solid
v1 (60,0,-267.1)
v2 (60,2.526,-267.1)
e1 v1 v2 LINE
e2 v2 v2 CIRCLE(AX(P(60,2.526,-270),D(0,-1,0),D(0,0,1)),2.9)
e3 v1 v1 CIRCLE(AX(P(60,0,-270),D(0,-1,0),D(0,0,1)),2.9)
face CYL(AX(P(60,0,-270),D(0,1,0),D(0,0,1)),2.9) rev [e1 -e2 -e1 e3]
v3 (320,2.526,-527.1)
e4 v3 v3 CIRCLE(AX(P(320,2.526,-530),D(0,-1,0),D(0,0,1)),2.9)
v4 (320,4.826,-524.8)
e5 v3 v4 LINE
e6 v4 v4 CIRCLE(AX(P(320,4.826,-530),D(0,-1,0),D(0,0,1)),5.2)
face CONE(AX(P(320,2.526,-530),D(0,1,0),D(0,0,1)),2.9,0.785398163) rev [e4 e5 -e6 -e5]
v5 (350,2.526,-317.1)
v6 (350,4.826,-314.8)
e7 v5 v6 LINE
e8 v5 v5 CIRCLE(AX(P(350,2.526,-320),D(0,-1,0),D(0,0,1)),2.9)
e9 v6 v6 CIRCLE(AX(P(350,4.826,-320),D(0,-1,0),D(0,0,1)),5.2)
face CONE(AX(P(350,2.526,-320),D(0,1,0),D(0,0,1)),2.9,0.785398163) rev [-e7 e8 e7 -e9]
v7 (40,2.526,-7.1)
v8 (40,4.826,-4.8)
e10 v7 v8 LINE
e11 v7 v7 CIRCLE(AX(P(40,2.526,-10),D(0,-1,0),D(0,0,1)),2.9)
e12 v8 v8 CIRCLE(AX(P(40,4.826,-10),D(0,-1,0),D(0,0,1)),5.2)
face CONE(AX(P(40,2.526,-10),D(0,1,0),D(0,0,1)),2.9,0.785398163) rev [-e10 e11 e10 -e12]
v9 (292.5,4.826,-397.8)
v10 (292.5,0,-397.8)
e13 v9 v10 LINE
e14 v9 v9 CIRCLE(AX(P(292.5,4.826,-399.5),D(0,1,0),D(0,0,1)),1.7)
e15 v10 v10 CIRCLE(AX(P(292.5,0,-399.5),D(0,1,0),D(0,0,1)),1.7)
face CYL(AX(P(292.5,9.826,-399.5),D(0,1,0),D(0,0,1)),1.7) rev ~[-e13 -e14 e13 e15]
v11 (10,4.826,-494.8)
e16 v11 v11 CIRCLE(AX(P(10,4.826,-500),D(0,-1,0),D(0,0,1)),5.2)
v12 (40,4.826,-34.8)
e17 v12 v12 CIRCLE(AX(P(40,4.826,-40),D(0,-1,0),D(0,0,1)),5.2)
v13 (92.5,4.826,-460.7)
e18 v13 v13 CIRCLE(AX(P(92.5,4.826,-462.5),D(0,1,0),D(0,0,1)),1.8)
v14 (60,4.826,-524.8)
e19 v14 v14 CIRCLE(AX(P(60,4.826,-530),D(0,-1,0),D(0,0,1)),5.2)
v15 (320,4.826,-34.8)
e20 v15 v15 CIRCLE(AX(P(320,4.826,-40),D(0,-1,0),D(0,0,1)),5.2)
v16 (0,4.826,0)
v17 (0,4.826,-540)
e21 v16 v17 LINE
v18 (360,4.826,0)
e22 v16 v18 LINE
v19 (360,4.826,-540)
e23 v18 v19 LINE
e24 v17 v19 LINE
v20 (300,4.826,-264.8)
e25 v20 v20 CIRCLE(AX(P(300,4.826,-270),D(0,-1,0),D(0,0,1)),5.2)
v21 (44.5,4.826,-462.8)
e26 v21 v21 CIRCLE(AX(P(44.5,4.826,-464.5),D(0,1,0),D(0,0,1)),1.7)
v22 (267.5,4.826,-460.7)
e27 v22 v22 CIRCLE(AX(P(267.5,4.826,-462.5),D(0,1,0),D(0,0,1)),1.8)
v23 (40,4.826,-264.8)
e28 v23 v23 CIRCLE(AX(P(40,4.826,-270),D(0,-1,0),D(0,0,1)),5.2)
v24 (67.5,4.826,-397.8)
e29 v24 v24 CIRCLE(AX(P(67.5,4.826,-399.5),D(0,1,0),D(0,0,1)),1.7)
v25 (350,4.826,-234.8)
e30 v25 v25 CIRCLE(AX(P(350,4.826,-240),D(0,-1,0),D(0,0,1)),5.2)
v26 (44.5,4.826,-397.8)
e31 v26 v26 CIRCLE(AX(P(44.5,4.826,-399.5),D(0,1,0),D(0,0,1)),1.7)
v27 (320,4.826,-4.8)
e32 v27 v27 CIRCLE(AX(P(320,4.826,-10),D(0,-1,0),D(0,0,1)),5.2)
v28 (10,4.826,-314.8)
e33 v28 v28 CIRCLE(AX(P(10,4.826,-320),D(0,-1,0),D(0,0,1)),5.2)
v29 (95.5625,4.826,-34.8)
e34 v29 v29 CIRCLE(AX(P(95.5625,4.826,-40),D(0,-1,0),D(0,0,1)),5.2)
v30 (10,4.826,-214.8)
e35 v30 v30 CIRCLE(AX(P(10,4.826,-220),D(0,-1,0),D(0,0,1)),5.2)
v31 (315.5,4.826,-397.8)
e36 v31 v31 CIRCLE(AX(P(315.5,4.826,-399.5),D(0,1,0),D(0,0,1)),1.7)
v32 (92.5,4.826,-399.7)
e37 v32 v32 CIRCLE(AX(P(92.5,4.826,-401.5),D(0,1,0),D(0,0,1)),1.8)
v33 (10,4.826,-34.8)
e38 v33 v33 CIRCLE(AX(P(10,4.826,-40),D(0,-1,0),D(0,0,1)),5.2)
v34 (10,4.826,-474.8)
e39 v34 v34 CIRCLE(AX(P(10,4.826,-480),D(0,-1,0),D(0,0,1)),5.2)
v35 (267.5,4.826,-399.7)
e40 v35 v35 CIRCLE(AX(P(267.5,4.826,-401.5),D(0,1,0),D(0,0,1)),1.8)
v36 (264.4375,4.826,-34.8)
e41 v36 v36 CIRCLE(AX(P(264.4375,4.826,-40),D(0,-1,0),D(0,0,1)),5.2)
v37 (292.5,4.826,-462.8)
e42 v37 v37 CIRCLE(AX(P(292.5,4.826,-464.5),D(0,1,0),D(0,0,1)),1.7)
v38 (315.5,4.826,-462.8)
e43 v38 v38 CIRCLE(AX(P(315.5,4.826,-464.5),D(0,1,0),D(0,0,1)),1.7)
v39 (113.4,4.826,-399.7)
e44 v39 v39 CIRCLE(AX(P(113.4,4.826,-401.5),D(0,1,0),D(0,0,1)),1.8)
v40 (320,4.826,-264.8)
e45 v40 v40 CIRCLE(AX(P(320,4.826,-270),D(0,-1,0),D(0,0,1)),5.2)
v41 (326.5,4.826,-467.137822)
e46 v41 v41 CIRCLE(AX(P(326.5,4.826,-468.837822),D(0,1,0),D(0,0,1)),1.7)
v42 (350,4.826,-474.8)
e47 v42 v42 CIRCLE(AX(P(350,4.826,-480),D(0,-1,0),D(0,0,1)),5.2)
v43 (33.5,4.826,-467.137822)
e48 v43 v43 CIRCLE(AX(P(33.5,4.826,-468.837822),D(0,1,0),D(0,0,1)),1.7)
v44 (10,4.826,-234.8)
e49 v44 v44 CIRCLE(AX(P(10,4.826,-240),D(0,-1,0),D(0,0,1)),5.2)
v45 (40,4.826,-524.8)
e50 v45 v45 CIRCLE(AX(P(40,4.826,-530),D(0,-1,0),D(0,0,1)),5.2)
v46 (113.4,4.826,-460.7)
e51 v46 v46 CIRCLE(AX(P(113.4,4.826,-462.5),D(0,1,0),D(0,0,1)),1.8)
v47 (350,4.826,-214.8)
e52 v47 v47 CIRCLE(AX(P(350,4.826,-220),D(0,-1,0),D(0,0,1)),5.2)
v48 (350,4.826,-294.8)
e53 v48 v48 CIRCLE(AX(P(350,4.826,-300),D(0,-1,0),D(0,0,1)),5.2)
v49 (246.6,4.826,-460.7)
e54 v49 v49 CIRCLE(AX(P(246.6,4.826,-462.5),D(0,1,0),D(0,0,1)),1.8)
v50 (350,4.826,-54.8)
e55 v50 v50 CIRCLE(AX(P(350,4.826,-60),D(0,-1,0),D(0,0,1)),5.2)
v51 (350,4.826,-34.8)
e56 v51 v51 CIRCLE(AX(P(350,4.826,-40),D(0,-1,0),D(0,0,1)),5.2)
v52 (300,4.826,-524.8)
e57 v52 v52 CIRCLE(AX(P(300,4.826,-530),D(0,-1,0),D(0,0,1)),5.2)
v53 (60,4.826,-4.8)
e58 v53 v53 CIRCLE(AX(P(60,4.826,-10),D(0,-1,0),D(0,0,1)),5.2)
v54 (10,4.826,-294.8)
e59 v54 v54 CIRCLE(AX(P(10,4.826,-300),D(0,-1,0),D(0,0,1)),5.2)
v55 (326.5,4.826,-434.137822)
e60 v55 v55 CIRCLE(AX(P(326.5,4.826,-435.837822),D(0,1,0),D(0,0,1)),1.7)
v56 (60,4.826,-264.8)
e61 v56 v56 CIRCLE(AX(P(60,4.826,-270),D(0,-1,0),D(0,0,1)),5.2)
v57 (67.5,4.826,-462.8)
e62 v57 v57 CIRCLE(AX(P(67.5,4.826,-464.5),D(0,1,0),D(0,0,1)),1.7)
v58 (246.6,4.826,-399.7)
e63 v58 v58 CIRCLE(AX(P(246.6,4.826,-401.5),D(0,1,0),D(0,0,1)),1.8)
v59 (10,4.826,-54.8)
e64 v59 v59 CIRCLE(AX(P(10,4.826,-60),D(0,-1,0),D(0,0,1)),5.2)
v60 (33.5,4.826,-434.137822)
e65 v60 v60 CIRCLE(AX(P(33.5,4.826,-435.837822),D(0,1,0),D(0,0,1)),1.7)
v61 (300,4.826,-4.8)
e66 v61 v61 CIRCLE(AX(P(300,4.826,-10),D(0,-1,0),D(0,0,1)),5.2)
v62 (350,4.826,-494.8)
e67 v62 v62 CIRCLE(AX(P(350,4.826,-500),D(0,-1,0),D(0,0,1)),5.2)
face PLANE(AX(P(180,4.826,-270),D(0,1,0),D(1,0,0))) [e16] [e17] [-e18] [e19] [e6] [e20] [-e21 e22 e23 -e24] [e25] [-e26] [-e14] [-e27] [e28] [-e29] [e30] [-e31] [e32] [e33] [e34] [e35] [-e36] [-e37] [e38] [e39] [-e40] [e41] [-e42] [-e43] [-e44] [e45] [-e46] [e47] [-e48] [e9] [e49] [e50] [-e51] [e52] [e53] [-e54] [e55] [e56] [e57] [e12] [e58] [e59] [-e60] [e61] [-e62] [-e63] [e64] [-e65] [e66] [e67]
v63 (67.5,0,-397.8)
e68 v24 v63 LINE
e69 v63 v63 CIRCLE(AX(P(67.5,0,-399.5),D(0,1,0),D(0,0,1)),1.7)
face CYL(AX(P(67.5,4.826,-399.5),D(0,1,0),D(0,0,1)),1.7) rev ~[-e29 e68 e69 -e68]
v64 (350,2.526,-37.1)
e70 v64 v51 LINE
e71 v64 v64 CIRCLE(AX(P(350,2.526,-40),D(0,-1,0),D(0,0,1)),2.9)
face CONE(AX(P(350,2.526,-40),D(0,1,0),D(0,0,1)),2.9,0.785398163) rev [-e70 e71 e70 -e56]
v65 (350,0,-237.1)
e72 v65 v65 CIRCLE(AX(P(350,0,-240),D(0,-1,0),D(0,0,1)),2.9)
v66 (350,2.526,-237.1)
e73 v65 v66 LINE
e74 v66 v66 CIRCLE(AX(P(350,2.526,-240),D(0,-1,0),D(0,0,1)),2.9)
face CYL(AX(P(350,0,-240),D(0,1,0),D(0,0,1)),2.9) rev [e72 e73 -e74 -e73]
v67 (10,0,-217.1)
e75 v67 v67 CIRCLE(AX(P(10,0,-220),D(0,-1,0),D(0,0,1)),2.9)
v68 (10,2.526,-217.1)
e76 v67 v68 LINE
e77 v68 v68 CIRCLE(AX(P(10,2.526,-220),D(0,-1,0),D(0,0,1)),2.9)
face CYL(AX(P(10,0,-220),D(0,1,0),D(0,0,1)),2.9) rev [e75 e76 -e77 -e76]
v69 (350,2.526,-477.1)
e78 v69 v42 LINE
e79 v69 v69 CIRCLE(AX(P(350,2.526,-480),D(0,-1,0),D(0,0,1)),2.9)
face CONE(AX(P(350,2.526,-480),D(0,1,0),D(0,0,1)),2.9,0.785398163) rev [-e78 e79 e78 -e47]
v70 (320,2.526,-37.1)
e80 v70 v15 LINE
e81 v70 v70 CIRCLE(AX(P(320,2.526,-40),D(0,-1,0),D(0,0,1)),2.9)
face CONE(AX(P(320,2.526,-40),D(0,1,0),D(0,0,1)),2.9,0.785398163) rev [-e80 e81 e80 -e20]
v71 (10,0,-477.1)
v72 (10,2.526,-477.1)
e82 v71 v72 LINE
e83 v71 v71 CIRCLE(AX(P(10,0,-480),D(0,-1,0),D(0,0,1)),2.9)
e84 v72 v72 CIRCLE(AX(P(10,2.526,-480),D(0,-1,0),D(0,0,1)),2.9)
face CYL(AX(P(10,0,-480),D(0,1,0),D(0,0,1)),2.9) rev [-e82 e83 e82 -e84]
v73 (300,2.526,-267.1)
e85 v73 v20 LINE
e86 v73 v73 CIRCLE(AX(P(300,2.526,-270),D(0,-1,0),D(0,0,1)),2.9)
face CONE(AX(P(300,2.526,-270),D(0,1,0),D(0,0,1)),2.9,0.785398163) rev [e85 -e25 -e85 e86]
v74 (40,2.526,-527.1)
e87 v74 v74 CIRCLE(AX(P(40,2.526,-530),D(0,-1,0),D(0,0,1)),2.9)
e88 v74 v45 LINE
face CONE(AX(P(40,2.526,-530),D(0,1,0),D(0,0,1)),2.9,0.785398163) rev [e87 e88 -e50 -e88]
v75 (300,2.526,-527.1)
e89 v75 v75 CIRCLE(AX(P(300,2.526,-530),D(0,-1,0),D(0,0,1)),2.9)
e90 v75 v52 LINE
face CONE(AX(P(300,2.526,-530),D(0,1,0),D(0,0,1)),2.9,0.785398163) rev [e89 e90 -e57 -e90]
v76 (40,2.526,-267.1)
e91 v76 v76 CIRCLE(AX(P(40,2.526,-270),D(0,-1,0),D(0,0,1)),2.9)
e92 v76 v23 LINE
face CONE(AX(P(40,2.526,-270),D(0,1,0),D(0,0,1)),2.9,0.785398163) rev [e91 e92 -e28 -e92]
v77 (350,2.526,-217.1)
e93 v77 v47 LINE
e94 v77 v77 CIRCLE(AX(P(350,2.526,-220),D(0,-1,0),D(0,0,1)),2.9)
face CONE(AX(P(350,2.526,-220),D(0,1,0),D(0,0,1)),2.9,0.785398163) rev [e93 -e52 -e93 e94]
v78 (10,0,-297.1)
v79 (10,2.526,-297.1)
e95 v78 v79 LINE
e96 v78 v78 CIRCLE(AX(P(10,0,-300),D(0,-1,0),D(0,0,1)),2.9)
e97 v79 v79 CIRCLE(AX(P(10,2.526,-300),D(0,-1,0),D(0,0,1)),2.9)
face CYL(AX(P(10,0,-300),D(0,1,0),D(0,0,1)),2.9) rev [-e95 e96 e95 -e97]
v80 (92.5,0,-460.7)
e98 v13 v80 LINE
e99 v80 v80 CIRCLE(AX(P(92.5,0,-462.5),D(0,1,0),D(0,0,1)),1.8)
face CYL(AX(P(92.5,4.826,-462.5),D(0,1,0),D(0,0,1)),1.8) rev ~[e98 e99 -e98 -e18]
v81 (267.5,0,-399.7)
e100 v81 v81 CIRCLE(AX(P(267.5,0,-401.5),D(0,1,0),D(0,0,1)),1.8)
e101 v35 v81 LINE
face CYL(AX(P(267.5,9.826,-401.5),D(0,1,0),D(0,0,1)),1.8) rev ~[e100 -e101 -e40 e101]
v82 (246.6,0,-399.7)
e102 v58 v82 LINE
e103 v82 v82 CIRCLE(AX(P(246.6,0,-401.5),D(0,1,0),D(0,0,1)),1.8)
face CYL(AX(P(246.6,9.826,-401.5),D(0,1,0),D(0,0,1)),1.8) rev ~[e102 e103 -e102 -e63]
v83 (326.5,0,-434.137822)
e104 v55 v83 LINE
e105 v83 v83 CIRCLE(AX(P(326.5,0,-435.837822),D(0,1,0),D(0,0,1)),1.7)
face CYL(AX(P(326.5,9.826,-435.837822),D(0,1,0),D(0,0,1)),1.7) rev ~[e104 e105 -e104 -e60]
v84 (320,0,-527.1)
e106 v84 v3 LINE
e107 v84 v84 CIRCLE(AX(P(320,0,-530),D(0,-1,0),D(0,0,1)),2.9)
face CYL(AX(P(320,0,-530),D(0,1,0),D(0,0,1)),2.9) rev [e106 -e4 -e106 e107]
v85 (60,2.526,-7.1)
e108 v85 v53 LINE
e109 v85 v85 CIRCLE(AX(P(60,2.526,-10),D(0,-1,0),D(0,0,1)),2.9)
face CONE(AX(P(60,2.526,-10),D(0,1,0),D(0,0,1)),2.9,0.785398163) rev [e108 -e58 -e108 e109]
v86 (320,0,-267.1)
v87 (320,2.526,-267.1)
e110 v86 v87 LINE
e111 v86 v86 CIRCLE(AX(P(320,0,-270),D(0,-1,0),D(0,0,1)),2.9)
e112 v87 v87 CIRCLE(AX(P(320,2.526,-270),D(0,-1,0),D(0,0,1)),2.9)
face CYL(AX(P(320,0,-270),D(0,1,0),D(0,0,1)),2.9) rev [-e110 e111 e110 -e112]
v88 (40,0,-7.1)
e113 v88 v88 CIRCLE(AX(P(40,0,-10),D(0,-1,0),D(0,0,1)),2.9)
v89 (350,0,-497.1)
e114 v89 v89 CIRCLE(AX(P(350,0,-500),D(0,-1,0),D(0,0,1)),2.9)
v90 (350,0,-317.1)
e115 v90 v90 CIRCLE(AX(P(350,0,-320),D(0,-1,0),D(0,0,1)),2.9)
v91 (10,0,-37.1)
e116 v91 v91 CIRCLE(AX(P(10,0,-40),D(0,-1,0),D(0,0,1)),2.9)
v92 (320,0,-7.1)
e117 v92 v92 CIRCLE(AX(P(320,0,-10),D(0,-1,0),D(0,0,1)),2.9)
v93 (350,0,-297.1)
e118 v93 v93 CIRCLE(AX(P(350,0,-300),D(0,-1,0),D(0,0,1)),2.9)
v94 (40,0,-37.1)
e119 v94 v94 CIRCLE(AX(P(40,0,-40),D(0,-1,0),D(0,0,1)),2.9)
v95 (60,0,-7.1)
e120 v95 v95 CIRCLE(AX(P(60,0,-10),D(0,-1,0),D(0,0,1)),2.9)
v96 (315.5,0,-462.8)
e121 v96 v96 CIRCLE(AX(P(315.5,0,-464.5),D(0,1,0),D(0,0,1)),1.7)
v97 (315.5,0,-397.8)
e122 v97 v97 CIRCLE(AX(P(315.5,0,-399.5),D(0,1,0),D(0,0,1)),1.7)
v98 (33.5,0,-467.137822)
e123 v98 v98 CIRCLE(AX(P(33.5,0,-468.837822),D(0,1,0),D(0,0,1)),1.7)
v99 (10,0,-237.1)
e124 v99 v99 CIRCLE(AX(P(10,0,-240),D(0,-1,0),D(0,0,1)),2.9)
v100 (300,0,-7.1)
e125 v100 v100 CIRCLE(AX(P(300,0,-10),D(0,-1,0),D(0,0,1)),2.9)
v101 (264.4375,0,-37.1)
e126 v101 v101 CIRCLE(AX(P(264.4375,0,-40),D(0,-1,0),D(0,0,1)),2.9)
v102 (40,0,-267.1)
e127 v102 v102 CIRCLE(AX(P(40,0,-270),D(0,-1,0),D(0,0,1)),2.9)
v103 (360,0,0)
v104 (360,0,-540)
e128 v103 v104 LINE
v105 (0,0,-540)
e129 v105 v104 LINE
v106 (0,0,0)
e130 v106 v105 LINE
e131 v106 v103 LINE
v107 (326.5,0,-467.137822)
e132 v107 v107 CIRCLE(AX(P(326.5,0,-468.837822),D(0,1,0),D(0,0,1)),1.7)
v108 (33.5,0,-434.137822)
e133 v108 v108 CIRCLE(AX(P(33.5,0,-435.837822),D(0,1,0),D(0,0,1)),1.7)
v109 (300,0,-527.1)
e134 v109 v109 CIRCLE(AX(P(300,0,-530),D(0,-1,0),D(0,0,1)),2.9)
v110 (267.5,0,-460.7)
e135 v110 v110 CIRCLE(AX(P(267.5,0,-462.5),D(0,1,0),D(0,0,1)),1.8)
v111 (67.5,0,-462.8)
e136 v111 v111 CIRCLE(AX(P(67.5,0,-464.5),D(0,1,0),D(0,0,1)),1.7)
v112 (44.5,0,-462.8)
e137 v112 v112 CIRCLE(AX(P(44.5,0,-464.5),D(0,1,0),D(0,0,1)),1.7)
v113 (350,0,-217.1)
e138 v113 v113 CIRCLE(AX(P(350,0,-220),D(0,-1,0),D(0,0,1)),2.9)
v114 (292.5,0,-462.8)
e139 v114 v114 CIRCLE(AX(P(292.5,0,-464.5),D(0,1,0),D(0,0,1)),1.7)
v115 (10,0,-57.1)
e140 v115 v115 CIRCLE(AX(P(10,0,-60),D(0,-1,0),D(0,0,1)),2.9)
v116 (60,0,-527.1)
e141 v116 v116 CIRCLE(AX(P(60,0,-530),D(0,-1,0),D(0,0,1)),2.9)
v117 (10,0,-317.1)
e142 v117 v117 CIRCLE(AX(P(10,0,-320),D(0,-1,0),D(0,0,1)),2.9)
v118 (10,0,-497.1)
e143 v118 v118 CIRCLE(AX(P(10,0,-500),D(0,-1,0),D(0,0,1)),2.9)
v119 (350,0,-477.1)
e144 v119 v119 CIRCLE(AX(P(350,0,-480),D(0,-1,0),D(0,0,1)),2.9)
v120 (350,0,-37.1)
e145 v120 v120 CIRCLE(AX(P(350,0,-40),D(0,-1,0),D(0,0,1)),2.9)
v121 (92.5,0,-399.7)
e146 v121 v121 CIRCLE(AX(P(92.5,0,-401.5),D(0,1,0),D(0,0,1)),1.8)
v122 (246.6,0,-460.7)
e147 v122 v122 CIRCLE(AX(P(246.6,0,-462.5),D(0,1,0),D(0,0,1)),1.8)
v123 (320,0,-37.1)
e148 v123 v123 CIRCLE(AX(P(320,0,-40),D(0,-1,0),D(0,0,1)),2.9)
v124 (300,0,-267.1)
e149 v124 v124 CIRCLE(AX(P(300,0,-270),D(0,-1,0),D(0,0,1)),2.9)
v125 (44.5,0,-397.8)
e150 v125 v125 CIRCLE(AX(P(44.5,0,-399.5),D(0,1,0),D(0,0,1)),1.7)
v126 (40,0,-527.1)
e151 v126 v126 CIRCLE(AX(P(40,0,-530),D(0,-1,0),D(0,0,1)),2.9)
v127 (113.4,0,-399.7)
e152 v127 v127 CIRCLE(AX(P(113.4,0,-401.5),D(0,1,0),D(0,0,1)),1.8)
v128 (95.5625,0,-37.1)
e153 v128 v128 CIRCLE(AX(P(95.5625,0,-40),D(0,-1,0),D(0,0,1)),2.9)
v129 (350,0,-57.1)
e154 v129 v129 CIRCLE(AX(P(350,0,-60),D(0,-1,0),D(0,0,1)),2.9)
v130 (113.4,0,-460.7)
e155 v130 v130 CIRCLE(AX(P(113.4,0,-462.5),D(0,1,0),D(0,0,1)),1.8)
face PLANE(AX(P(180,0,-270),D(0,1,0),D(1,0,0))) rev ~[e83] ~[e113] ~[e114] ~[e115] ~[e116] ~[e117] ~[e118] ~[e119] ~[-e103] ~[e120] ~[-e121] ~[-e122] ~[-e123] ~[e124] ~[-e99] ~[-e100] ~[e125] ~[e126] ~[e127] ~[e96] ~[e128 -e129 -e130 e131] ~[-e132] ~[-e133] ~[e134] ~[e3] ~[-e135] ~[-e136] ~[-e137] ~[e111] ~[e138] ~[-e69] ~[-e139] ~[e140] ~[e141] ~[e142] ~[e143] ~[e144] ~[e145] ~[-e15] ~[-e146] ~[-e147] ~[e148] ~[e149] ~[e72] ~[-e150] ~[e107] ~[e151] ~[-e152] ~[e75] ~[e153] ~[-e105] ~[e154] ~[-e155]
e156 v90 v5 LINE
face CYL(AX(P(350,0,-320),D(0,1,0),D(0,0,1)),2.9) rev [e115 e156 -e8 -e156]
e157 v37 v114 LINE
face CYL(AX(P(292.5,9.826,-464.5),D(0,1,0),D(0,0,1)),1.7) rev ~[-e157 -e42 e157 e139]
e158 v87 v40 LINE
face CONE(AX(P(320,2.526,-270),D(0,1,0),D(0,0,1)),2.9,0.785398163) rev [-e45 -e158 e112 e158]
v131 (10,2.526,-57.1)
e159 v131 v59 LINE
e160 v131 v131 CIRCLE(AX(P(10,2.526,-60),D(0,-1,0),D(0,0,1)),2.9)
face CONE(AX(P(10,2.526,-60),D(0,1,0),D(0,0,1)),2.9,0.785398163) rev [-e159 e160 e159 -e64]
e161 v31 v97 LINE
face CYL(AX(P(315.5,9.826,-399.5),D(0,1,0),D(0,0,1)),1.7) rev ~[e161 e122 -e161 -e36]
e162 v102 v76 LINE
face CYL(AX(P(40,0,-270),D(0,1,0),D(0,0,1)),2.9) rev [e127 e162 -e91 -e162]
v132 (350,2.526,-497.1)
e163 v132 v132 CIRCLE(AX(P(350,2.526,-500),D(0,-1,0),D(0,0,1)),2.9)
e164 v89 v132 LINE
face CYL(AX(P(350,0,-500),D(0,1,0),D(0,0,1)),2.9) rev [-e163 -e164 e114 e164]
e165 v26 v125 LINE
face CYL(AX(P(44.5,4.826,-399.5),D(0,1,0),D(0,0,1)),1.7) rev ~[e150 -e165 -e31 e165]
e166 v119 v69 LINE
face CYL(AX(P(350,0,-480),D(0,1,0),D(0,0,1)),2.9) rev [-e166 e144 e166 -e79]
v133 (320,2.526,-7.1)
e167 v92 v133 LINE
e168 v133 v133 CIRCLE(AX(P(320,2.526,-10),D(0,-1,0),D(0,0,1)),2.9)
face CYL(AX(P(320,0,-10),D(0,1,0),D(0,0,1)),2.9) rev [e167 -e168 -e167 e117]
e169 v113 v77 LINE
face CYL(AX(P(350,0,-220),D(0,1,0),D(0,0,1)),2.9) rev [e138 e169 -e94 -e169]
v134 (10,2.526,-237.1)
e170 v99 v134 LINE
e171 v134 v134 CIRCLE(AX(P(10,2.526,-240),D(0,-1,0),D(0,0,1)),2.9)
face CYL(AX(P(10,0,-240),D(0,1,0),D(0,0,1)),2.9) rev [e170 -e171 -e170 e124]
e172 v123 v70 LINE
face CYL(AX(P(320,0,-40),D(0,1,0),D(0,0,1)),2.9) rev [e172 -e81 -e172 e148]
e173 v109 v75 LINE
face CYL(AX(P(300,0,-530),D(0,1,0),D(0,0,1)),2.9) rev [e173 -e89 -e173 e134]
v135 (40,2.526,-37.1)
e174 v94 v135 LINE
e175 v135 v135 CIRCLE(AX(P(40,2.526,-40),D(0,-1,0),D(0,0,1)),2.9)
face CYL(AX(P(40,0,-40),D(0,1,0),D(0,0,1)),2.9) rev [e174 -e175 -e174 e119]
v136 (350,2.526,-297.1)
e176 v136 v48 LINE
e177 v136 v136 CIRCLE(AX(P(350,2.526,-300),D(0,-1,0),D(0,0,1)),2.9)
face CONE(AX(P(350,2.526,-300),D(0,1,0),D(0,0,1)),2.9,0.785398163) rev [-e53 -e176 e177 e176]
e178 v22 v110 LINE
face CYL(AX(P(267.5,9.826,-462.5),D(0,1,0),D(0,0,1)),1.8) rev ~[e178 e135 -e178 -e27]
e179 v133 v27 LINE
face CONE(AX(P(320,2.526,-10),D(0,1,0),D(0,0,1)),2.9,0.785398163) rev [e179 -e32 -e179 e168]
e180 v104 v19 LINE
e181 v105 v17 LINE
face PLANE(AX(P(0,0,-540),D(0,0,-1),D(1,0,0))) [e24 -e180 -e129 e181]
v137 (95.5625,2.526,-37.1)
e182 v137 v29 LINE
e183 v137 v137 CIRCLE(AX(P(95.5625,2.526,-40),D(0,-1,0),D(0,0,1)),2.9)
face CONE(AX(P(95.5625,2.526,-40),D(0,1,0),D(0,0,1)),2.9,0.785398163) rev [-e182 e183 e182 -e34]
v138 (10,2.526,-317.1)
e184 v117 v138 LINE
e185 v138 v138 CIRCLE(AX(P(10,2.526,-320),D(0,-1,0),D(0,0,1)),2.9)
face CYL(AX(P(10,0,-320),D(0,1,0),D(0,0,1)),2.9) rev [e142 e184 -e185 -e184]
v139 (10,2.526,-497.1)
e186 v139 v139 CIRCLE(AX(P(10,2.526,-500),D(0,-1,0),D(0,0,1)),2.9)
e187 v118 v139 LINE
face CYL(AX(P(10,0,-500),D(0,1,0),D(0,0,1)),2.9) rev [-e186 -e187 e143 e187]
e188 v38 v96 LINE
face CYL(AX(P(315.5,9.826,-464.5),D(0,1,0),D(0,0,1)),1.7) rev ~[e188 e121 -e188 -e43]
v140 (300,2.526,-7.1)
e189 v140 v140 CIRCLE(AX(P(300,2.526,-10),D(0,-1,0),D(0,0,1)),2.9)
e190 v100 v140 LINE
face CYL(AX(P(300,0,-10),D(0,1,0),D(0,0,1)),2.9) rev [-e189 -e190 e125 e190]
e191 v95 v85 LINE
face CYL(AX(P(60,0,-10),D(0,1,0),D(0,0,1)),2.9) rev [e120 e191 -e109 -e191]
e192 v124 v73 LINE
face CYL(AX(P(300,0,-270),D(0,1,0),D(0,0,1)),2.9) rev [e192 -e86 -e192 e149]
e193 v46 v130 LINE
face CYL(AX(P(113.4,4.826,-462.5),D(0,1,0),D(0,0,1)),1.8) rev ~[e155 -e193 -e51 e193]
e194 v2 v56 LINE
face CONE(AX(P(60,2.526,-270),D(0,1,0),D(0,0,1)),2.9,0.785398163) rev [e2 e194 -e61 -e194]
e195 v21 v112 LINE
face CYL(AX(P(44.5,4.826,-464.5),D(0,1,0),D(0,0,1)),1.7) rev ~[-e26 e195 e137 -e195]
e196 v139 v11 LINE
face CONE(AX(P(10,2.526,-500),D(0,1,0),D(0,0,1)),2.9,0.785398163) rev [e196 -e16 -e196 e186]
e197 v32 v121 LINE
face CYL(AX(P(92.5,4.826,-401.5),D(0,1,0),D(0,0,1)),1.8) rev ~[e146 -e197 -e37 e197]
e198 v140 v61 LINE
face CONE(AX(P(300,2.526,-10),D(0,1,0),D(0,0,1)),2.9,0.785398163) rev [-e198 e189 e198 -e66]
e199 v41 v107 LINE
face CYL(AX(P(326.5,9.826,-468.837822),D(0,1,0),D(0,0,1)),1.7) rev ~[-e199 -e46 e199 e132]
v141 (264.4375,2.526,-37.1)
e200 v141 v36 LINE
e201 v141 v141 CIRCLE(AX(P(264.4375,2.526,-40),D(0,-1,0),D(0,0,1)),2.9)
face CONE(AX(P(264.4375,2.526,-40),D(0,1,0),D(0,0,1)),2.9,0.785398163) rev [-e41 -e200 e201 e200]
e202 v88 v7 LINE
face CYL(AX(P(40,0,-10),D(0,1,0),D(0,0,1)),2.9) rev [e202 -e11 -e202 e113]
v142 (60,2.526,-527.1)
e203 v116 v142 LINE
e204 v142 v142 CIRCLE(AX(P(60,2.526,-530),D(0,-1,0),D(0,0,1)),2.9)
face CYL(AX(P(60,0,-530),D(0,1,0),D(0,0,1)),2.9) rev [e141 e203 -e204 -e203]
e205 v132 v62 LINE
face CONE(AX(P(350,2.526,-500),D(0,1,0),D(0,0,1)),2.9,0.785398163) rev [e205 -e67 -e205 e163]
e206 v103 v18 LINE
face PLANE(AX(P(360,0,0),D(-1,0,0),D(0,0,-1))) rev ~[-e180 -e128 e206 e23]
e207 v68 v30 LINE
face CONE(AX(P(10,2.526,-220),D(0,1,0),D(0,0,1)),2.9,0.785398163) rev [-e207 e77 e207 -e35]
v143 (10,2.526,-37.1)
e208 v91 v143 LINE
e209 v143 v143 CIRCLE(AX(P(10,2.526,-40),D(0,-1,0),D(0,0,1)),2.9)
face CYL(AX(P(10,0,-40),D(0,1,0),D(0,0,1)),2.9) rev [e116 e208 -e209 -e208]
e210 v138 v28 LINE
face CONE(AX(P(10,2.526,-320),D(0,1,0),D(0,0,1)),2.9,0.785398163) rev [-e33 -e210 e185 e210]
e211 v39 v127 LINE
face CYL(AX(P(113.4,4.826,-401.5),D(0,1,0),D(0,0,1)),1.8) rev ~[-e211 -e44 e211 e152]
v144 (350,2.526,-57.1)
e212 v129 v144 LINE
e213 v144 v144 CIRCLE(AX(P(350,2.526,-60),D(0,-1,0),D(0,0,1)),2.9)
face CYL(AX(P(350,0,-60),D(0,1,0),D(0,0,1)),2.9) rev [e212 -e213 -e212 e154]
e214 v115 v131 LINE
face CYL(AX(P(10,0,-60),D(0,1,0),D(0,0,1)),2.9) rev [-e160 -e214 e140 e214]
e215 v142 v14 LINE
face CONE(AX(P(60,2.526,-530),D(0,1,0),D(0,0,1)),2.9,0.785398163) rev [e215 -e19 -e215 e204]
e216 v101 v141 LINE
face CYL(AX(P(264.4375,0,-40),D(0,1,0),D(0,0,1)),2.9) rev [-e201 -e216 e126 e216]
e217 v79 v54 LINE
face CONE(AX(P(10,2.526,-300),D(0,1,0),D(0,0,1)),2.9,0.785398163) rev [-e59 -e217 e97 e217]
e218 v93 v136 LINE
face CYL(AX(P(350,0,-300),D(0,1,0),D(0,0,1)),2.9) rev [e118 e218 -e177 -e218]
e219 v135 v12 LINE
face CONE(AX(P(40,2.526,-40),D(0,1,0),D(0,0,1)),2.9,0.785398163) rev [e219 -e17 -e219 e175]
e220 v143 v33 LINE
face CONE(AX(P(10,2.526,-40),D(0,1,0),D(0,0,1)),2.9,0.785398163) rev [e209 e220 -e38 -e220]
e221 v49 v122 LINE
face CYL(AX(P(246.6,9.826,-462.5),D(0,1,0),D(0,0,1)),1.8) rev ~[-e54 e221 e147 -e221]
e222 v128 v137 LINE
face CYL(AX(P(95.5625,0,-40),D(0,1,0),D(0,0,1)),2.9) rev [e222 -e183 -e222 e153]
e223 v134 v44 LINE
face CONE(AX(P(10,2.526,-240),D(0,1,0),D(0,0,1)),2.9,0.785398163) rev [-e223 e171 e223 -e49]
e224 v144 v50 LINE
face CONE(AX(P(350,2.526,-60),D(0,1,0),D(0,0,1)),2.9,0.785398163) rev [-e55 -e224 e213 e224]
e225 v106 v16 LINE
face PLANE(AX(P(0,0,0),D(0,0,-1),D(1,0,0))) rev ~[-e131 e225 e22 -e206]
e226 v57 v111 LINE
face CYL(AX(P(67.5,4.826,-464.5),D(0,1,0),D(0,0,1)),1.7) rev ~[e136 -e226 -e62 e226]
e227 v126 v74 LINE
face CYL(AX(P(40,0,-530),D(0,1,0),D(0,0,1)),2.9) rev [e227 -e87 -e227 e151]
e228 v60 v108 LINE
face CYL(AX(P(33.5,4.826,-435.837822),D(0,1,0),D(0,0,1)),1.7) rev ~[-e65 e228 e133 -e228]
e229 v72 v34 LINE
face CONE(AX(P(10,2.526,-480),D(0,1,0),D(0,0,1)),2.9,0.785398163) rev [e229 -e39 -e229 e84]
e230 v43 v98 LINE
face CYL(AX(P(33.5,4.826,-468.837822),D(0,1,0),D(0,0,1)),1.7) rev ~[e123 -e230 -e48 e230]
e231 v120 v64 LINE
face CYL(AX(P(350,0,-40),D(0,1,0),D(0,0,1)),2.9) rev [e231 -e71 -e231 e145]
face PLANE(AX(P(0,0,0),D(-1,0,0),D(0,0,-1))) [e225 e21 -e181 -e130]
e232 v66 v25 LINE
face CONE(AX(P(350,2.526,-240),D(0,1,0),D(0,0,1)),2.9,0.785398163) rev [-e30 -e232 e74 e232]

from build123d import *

# Parameters (mm, degrees)
SKETCH1_W                                      = 360
SKETCH1_H                                      = 540
BOSS_EXTRUDE1_DEPTH                            = 4.826
CSK_FOR_M5_FLAT_HEAD_MACHINE_SCREW1_AT_2_COUNT = 2
CSK_FOR_M5_FLAT_HEAD_MACHINE_SCREW1_AT_2_PITCH = 55.5625
CSK_FOR_M5_FLAT_HEAD_MACHINE_SCREW1_AT_3_COUNT = 2
CSK_FOR_M5_FLAT_HEAD_MACHINE_SCREW1_AT_3_PITCH = 224.4375
CSK_FOR_M5_FLAT_HEAD_MACHINE_SCREW1_AT_4_COUNT = 2
CSK_FOR_M5_FLAT_HEAD_MACHINE_SCREW1_AT_4_PITCH = 280
CSK_FOR_M5_FLAT_HEAD_MACHINE_SCREW2_AT_2_COUNT = 2
CSK_FOR_M5_FLAT_HEAD_MACHINE_SCREW2_AT_2_PITCH = 42.426406871
CSK_FOR_M5_FLAT_HEAD_MACHINE_SCREW2_AT_3_COUNT = 2
CSK_FOR_M5_FLAT_HEAD_MACHINE_SCREW2_AT_3_PITCH = 280
CSK_FOR_M5_FLAT_HEAD_MACHINE_SCREW2_AT_4_COUNT = 2
CSK_FOR_M5_FLAT_HEAD_MACHINE_SCREW2_AT_4_PITCH = 311.448230048
CSK_FOR_M5_FLAT_HEAD_MACHINE_SCREW2_AT_5_COUNT = 2
CSK_FOR_M5_FLAT_HEAD_MACHINE_SCREW2_AT_5_PITCH = 231.948270095
CSK_FOR_M5_FLAT_HEAD_MACHINE_SCREW2_AT_6_COUNT = 2
CSK_FOR_M5_FLAT_HEAD_MACHINE_SCREW2_AT_6_PITCH = 260
CSK_FOR_M5_FLAT_HEAD_MACHINE_SCREW2_AT_7_COUNT = 2
CSK_FOR_M5_FLAT_HEAD_MACHINE_SCREW2_AT_7_PITCH = 291.547594742
CSK_FOR_M5_FLAT_HEAD_MACHINE_SCREW2_AT_8_COUNT = 2
CSK_FOR_M5_FLAT_HEAD_MACHINE_SCREW2_AT_8_PITCH = 386.005181312
CSK_FOR_M5_FLAT_HEAD_MACHINE_SCREW2_AT_9_COUNT = 2
CSK_FOR_M5_FLAT_HEAD_MACHINE_SCREW2_AT_9_PITCH = 382.099463491
CSK_FOR_M5_FLAT_HEAD_MACHINE_SCREW2_AT_1_COUNT = 2
CSK_FOR_M5_FLAT_HEAD_MACHINE_SCREW2_AT_1_PITCH = 424.499705536
CSK_FOR_M5_FLAT_HEAD_MACHINE_SCREW2_2_COUNT    = 2
CSK_FOR_M5_FLAT_HEAD_MACHINE_SCREW2_2_PITCH    = 490.917508345
CSK_FOR_M5_FLAT_HEAD_MACHINE_SCREW2_3_COUNT    = 2
CSK_FOR_M5_FLAT_HEAD_MACHINE_SCREW2_3_PITCH    = 520
CSK_FOR_M5_FLAT_HEAD_MACHINE_SCREW2_4_COUNT    = 2
CSK_FOR_M5_FLAT_HEAD_MACHINE_SCREW2_4_PITCH    = 590.592922409
CSK_FOR_M5_FLAT_HEAD_MACHINE_SCREW2_5_COUNT    = 2
CSK_FOR_M5_FLAT_HEAD_MACHINE_SCREW2_5_PITCH    = 579.827560573
CSK_FOR_M5_FLAT_HEAD_MACHINE_SCREW2_6_COUNT    = 2
CSK_FOR_M5_FLAT_HEAD_MACHINE_SCREW2_6_PITCH    = 470.956473573
CSK_FOR_M5_FLAT_HEAD_MACHINE_SCREW2_7_COUNT    = 2
CSK_FOR_M5_FLAT_HEAD_MACHINE_SCREW2_7_PITCH    = 520.38447325
CSK_FOR_M5_FLAT_HEAD_MACHINE_SCREW2_8_COUNT    = 2
CSK_FOR_M5_FLAT_HEAD_MACHINE_SCREW2_8_PITCH    = 581.37767415
CSK_FOR_M5_FLAT_HEAD_MACHINE_SCREW2_9_COUNT    = 2
CSK_FOR_M5_FLAT_HEAD_MACHINE_SCREW2_9_PITCH    = 563.02753041
CSK_FOR_M5_FLAT_HEAD_MACHINE_SCREW2_10_COUNT   = 2
CSK_FOR_M5_FLAT_HEAD_MACHINE_SCREW2_10_PITCH   = 438.406204336
CSK_FOR_M5_FLAT_HEAD_MACHINE_SCREW2_11_COUNT   = 2
CSK_FOR_M5_FLAT_HEAD_MACHINE_SCREW2_11_PITCH   = 367.695526217
CSK_FOR_M5_FLAT_HEAD_MACHINE_SCREW2_12_COUNT   = 2
CSK_FOR_M5_FLAT_HEAD_MACHINE_SCREW2_12_PITCH   = 374.432904537
CSK_FOR_M5_FLAT_HEAD_MACHINE_SCREW2_13_COUNT   = 2
CSK_FOR_M5_FLAT_HEAD_MACHINE_SCREW2_13_PITCH   = 212.132034356
CSK_FOR_M5_FLAT_HEAD_MACHINE_SCREW2_14_COUNT   = 2
CSK_FOR_M5_FLAT_HEAD_MACHINE_SCREW2_14_PITCH   = 260.768096208
CSK_FOR_M5_FLAT_HEAD_MACHINE_SCREW2_15_COUNT   = 2
CSK_FOR_M5_FLAT_HEAD_MACHINE_SCREW2_15_PITCH   = 311.448230048
CSK_FOR_M5_FLAT_HEAD_MACHINE_SCREW2_16_COUNT   = 2
CSK_FOR_M5_FLAT_HEAD_MACHINE_SCREW2_16_PITCH   = 58.309518948
CSK_FOR_M5_FLAT_HEAD_MACHINE_SCREW2_17_COUNT   = 2
CSK_FOR_M5_FLAT_HEAD_MACHINE_SCREW2_17_PITCH   = 20
CSK_FOR_M5_FLAT_HEAD_MACHINE_SCREW2_18_COUNT   = 2
CSK_FOR_M5_FLAT_HEAD_MACHINE_SCREW2_18_PITCH   = 260
CSK_FOR_M5_FLAT_HEAD_MACHINE_SCREW2_19_COUNT   = 2
CSK_FOR_M5_FLAT_HEAD_MACHINE_SCREW2_19_PITCH   = 314.006369362
SKETCH22_R                                     = 1.8
SKETCH22_R_2                                   = 1.7
CUT_EXTRUDE2_DEPTH                             = 9.826000001
SKETCH23_R                                     = 1.7
SKETCH23_R_2                                   = 1.8
CUT_EXTRUDE3_DEPTH                             = 4.826


with BuildPart() as part:
    # Sketch1 → Boss-Extrude1 (new body)
    with BuildSketch(Plane(origin=(0, 0, 0), x_dir=(1, 0, 0), z_dir=(0, 1, 0))):
        with Locations((180, 270)):
            Rectangle(SKETCH1_W, SKETCH1_H)
    extrude(amount=BOSS_EXTRUDE1_DEPTH)

    # Sketch16 → CSK for M5 Flat Head Machine Screw1 (revolve, cut)
    with BuildSketch(Plane(origin=(40, 4.826, -40), x_dir=(0, 0, 1), z_dir=(1, 0, 0))):
        Polygon((0, 0), (0, 4.826), (2.9, 4.826), (2.9, 2.3), (5.2, 0), align=None)
    csk_for_m5_flat_head_machine_screw1 = revolve(axis=Axis((40, 11.176, -40), (0, -1, 0)), mode=Mode.SUBTRACT)

    # CSK for M5 Flat Head Machine Screw1 at 2: CSK for M5 Flat Head Machine Screw1 ×2
    with Locations(*[(i * CSK_FOR_M5_FLAT_HEAD_MACHINE_SCREW1_AT_2_PITCH, 0, 0) for i in range(1, CSK_FOR_M5_FLAT_HEAD_MACHINE_SCREW1_AT_2_COUNT)]):
        add(csk_for_m5_flat_head_machine_screw1, mode=Mode.SUBTRACT)

    # CSK for M5 Flat Head Machine Screw1 at 3: CSK for M5 Flat Head Machine Screw1 ×2
    with Locations(*[(i * CSK_FOR_M5_FLAT_HEAD_MACHINE_SCREW1_AT_3_PITCH, 0, 0) for i in range(1, CSK_FOR_M5_FLAT_HEAD_MACHINE_SCREW1_AT_3_COUNT)]):
        add(csk_for_m5_flat_head_machine_screw1, mode=Mode.SUBTRACT)

    # CSK for M5 Flat Head Machine Screw1 at 4: CSK for M5 Flat Head Machine Screw1 ×2
    with Locations(*[(i * CSK_FOR_M5_FLAT_HEAD_MACHINE_SCREW1_AT_4_PITCH, 0, 0) for i in range(1, CSK_FOR_M5_FLAT_HEAD_MACHINE_SCREW1_AT_4_COUNT)]):
        add(csk_for_m5_flat_head_machine_screw1, mode=Mode.SUBTRACT)

    # Sketch20 → CSK for M5 Flat Head Machine Screw2 (revolve, cut)
    with BuildSketch(Plane(origin=(40, 4.826, -10), x_dir=(0, 0, 1), z_dir=(1, 0, 0))):
        Polygon((0, 0), (0, 4.826), (2.9, 4.826), (2.9, 2.3), (5.2, 0), align=None)
    csk_for_m5_flat_head_machine_screw2 = revolve(axis=Axis((40, 11.176, -10), (0, -1, 0)), mode=Mode.SUBTRACT)

    # CSK for M5 Flat Head Machine Screw2 at 2: CSK for M5 Flat Head Machine Screw2 ×2
    with Locations(*[Vector(-0.7071067811865477, 0, -0.7071067811865475) * (i * CSK_FOR_M5_FLAT_HEAD_MACHINE_SCREW2_AT_2_PITCH) for i in range(1, CSK_FOR_M5_FLAT_HEAD_MACHINE_SCREW2_AT_2_COUNT)]):
        add(csk_for_m5_flat_head_machine_screw2, mode=Mode.SUBTRACT)

    # CSK for M5 Flat Head Machine Screw2 at 3: CSK for M5 Flat Head Machine Screw2 ×2
    with Locations(*[(i * CSK_FOR_M5_FLAT_HEAD_MACHINE_SCREW2_AT_3_PITCH, 0, 0) for i in range(1, CSK_FOR_M5_FLAT_HEAD_MACHINE_SCREW2_AT_3_COUNT)]):
        add(csk_for_m5_flat_head_machine_screw2, mode=Mode.SUBTRACT)

    # CSK for M5 Flat Head Machine Screw2 at 4: CSK for M5 Flat Head Machine Screw2 ×2
    with Locations(*[Vector(0.9953500135553002, 0, -0.09632419486019045) * (i * CSK_FOR_M5_FLAT_HEAD_MACHINE_SCREW2_AT_4_PITCH) for i in range(1, CSK_FOR_M5_FLAT_HEAD_MACHINE_SCREW2_AT_4_COUNT)]):
        add(csk_for_m5_flat_head_machine_screw2, mode=Mode.SUBTRACT)

    # CSK for M5 Flat Head Machine Screw2 at 5: CSK for M5 Flat Head Machine Screw2 ×2
    with Locations(*[Vector(-0.12933918406776806, 0, -0.9916004111862218) * (i * CSK_FOR_M5_FLAT_HEAD_MACHINE_SCREW2_AT_5_PITCH) for i in range(1, CSK_FOR_M5_FLAT_HEAD_MACHINE_SCREW2_AT_5_COUNT)]):
        add(csk_for_m5_flat_head_machine_screw2, mode=Mode.SUBTRACT)

    # CSK for M5 Flat Head Machine Screw2 at 6: CSK for M5 Flat Head Machine Screw2 ×2
    with Locations(*[(0, 0, -i * CSK_FOR_M5_FLAT_HEAD_MACHINE_SCREW2_AT_6_PITCH) for i in range(1, CSK_FOR_M5_FLAT_HEAD_MACHINE_SCREW2_AT_6_COUNT)]):
        add(csk_for_m5_flat_head_machine_screw2, mode=Mode.SUBTRACT)

    # CSK for M5 Flat Head Machine Screw2 at 7: CSK for M5 Flat Head Machine Screw2 ×2
    with Locations(*[Vector(-0.10289915108550529, 0, -0.9946917938265514) * (i * CSK_FOR_M5_FLAT_HEAD_MACHINE_SCREW2_AT_7_PITCH) for i in range(1, CSK_FOR_M5_FLAT_HEAD_MACHINE_SCREW2_AT_7_COUNT)]):
        add(csk_for_m5_flat_head_machine_screw2, mode=Mode.SUBTRACT)

    # CSK for M5 Flat Head Machine Screw2 at 8: CSK for M5 Flat Head Machine Screw2 ×2
    with Locations(*[Vector(0.8030980282338017, 0, -0.5958469241734659) * (i * CSK_FOR_M5_FLAT_HEAD_MACHINE_SCREW2_AT_8_PITCH) for i in range(1, CSK_FOR_M5_FLAT_HEAD_MACHINE_SCREW2_AT_8_COUNT)]):
        add(csk_for_m5_flat_head_machine_screw2, mode=Mode.SUBTRACT)

    # CSK for M5 Flat Head Machine Screw2 at 9: CSK for M5 Flat Head Machine Screw2 ×2
    with Locations(*[Vector(0.7327934916262991, 0, -0.680451099367278) * (i * CSK_FOR_M5_FLAT_HEAD_MACHINE_SCREW2_AT_9_PITCH) for i in range(1, CSK_FOR_M5_FLAT_HEAD_MACHINE_SCREW2_AT_9_COUNT)]):
        add(csk_for_m5_flat_head_machine_screw2, mode=Mode.SUBTRACT)

    # CSK for M5 Flat Head Machine Screw2 at 1: CSK for M5 Flat Head Machine Screw2 ×2
    with Locations(*[Vector(0.7302714135188955, 0, -0.683157128775741) * (i * CSK_FOR_M5_FLAT_HEAD_MACHINE_SCREW2_AT_1_PITCH) for i in range(1, CSK_FOR_M5_FLAT_HEAD_MACHINE_SCREW2_AT_1_COUNT)]):
        add(csk_for_m5_flat_head_machine_screw2, mode=Mode.SUBTRACT)

    # CSK for M5 Flat Head Machine Screw2  2: CSK for M5 Flat Head Machine Screw2 ×2
    with Locations(*[Vector(-0.0611100632795033, 0, -0.9981310335652204) * (i * CSK_FOR_M5_FLAT_HEAD_MACHINE_SCREW2_2_PITCH) for i in range(1, CSK_FOR_M5_FLAT_HEAD_MACHINE_SCREW2_2_COUNT)]):
        add(csk_for_m5_flat_head_machine_screw2, mode=Mode.SUBTRACT)

    # CSK for M5 Flat Head Machine Screw2  3: CSK for M5 Flat Head Machine Screw2 ×2
    with Locations(*[(0, 0, -i * CSK_FOR_M5_FLAT_HEAD_MACHINE_SCREW2_3_PITCH) for i in range(1, CSK_FOR_M5_FLAT_HEAD_MACHINE_SCREW2_3_COUNT)]):
        add(csk_for_m5_flat_head_machine_screw2, mode=Mode.SUBTRACT)

    # CSK for M5 Flat Head Machine Screw2  4: CSK for M5 Flat Head Machine Screw2 ×2
    with Locations(*[Vector(0.4740998230350174, 0, -0.8804710999221753) * (i * CSK_FOR_M5_FLAT_HEAD_MACHINE_SCREW2_4_PITCH) for i in range(1, CSK_FOR_M5_FLAT_HEAD_MACHINE_SCREW2_4_COUNT)]):
        add(csk_for_m5_flat_head_machine_screw2, mode=Mode.SUBTRACT)

    # CSK for M5 Flat Head Machine Screw2  5: CSK for M5 Flat Head Machine Screw2 ×2
    with Locations(*[Vector(0.5346417126044627, 0, -0.8450788360522153) * (i * CSK_FOR_M5_FLAT_HEAD_MACHINE_SCREW2_5_PITCH) for i in range(1, CSK_FOR_M5_FLAT_HEAD_MACHINE_SCREW2_5_COUNT)]):
        add(csk_for_m5_flat_head_machine_screw2, mode=Mode.SUBTRACT)

    # CSK for M5 Flat Head Machine Screw2  6: CSK for M5 Flat Head Machine Screw2 ×2
    with Locations(*[Vector(-0.06370015422533803, 0, -0.9979690828636267) * (i * CSK_FOR_M5_FLAT_HEAD_MACHINE_SCREW2_6_PITCH) for i in range(1, CSK_FOR_M5_FLAT_HEAD_MACHINE_SCREW2_6_COUNT)]):
        add(csk_for_m5_flat_head_machine_screw2, mode=Mode.SUBTRACT)

    # CSK for M5 Flat Head Machine Screw2  7: CSK for M5 Flat Head Machine Screw2 ×2
    with Locations(*[Vector(0.03843312210120418, 0, -0.9992611746313144) * (i * CSK_FOR_M5_FLAT_HEAD_MACHINE_SCREW2_7_PITCH) for i in range(1, CSK_FOR_M5_FLAT_HEAD_MACHINE_SCREW2_7_COUNT)]):
        add(csk_for_m5_flat_head_machine_screw2, mode=Mode.SUBTRACT)

    # CSK for M5 Flat Head Machine Screw2  8: CSK for M5 Flat Head Machine Screw2 ×2
    with Locations(*[Vector(0.4472135954999574, 0, -0.8944271909999162) * (i * CSK_FOR_M5_FLAT_HEAD_MACHINE_SCREW2_8_PITCH) for i in range(1, CSK_FOR_M5_FLAT_HEAD_MACHINE_SCREW2_8_COUNT)]):
        add(csk_for_m5_flat_head_machine_screw2, mode=Mode.SUBTRACT)

    # CSK for M5 Flat Head Machine Screw2  9: CSK for M5 Flat Head Machine Screw2 ×2
    with Locations(*[Vector(0.5505947458271752, 0, -0.8347726791573312) * (i * CSK_FOR_M5_FLAT_HEAD_MACHINE_SCREW2_9_PITCH) for i in range(1, CSK_FOR_M5_FLAT_HEAD_MACHINE_SCREW2_9_COUNT)]):
        add(csk_for_m5_flat_head_machine_screw2, mode=Mode.SUBTRACT)

    # CSK for M5 Flat Head Machine Screw2  10: CSK for M5 Flat Head Machine Screw2 ×2
    with Locations(*[Vector(0.7071067811865475, 0, -0.7071067811865476) * (i * CSK_FOR_M5_FLAT_HEAD_MACHINE_SCREW2_10_PITCH) for i in range(1, CSK_FOR_M5_FLAT_HEAD_MACHINE_SCREW2_10_COUNT)]):
        add(csk_for_m5_flat_head_machine_screw2, mode=Mode.SUBTRACT)

    # CSK for M5 Flat Head Machine Screw2  11: CSK for M5 Flat Head Machine Screw2 ×2
    with Locations(*[Vector(0.7071067811865476, 0, -0.7071067811865476) * (i * CSK_FOR_M5_FLAT_HEAD_MACHINE_SCREW2_11_PITCH) for i in range(1, CSK_FOR_M5_FLAT_HEAD_MACHINE_SCREW2_11_COUNT)]):
        add(csk_for_m5_flat_head_machine_screw2, mode=Mode.SUBTRACT)

    # CSK for M5 Flat Head Machine Screw2  12: CSK for M5 Flat Head Machine Screw2 ×2
    with Locations(*[Vector(0.827918690488332, 0, -0.5608481451695152) * (i * CSK_FOR_M5_FLAT_HEAD_MACHINE_SCREW2_12_PITCH) for i in range(1, CSK_FOR_M5_FLAT_HEAD_MACHINE_SCREW2_12_COUNT)]):
        add(csk_for_m5_flat_head_machine_screw2, mode=Mode.SUBTRACT)

    # CSK for M5 Flat Head Machine Screw2  13: CSK for M5 Flat Head Machine Screw2 ×2
    with Locations(*[Vector(-0.14142135623730953, 0, -0.9899494936611666) * (i * CSK_FOR_M5_FLAT_HEAD_MACHINE_SCREW2_13_PITCH) for i in range(1, CSK_FOR_M5_FLAT_HEAD_MACHINE_SCREW2_13_COUNT)]):
        add(csk_for_m5_flat_head_machine_screw2, mode=Mode.SUBTRACT)

    # CSK for M5 Flat Head Machine Screw2  14: CSK for M5 Flat Head Machine Screw2 ×2
    with Locations(*[Vector(0.07669649888473705, 0, -0.9970544855015816) * (i * CSK_FOR_M5_FLAT_HEAD_MACHINE_SCREW2_14_PITCH) for i in range(1, CSK_FOR_M5_FLAT_HEAD_MACHINE_SCREW2_14_COUNT)]):
        add(csk_for_m5_flat_head_machine_screw2, mode=Mode.SUBTRACT)

    # CSK for M5 Flat Head Machine Screw2  15: CSK for M5 Flat Head Machine Screw2 ×2
    with Locations(*[Vector(-0.09632419486019039, 0, -0.9953500135553002) * (i * CSK_FOR_M5_FLAT_HEAD_MACHINE_SCREW2_15_PITCH) for i in range(1, CSK_FOR_M5_FLAT_HEAD_MACHINE_SCREW2_15_COUNT)]):
        add(csk_for_m5_flat_head_machine_screw2, mode=Mode.SUBTRACT)

    # CSK for M5 Flat Head Machine Screw2  16: CSK for M5 Flat Head Machine Screw2 ×2
    with Locations(*[Vector(-0.5144957554275267, 0, -0.8574929257125442) * (i * CSK_FOR_M5_FLAT_HEAD_MACHINE_SCREW2_16_PITCH) for i in range(1, CSK_FOR_M5_FLAT_HEAD_MACHINE_SCREW2_16_COUNT)]):
        add(csk_for_m5_flat_head_machine_screw2, mode=Mode.SUBTRACT)

    # CSK for M5 Flat Head Machine Screw2  17: CSK for M5 Flat Head Machine Screw2 ×2
    with Locations(*[(i * CSK_FOR_M5_FLAT_HEAD_MACHINE_SCREW2_17_PITCH, 0, 0) for i in range(1, CSK_FOR_M5_FLAT_HEAD_MACHINE_SCREW2_17_COUNT)]):
        add(csk_for_m5_flat_head_machine_screw2, mode=Mode.SUBTRACT)

    # CSK for M5 Flat Head Machine Screw2  18: CSK for M5 Flat Head Machine Screw2 ×2
    with Locations(*[(i * CSK_FOR_M5_FLAT_HEAD_MACHINE_SCREW2_18_PITCH, 0, 0) for i in range(1, CSK_FOR_M5_FLAT_HEAD_MACHINE_SCREW2_18_COUNT)]):
        add(csk_for_m5_flat_head_machine_screw2, mode=Mode.SUBTRACT)

    # CSK for M5 Flat Head Machine Screw2  19: CSK for M5 Flat Head Machine Screw2 ×2
    with Locations(*[Vector(0.9872411207126471, 0, -0.1592324388246205) * (i * CSK_FOR_M5_FLAT_HEAD_MACHINE_SCREW2_19_PITCH) for i in range(1, CSK_FOR_M5_FLAT_HEAD_MACHINE_SCREW2_19_COUNT)]):
        add(csk_for_m5_flat_head_machine_screw2, mode=Mode.SUBTRACT)

    # Sketch22 → Cut-Extrude2 (cut)
    with BuildSketch(Plane(origin=(0, 9.826000001, 0), x_dir=(1, 0, 0), z_dir=(0, 1, 0))):
        with Locations(Location((246.6, 462.5, 0), (0, 0, 270))):
            Circle(SKETCH22_R)
        with Locations(Location((267.5, 462.5, 0), (0, 0, 270))):
            Circle(SKETCH22_R)
        with Locations(Location((267.5, 401.5, 0), (0, 0, 270))):
            Circle(SKETCH22_R)
        with Locations(Location((292.5, 399.499999999, 0), (0, 0, 270))):
            Circle(SKETCH22_R_2)
        with Locations(Location((246.6, 401.5, 0), (0, 0, 270))):
            Circle(SKETCH22_R)
        with Locations(Location((292.5, 464.499999999, 0), (0, 0, 270))):
            Circle(SKETCH22_R_2)
        with Locations(Location((315.5, 464.499999999, 0), (0, 0, 270))):
            Circle(SKETCH22_R_2)
        with Locations(Location((315.5, 399.499999999, 0), (0, 0, 270))):
            Circle(SKETCH22_R_2)
        with Locations(Location((326.5, 435.837822173, 0), (0, 0, 270))):
            Circle(SKETCH22_R_2)
        with Locations(Location((326.5, 468.837822173, 0), (0, 0, 270))):
            Circle(SKETCH22_R_2)
    extrude(amount=-CUT_EXTRUDE2_DEPTH, mode=Mode.SUBTRACT)

    # Sketch23 → Cut-Extrude3 (cut)
    with BuildSketch(Plane(origin=(0, 4.826, 0), x_dir=(1, 0, 0), z_dir=(0, 1, 0))):
        with Locations(Location((67.5, 464.499999998, 0), (0, 0, 270))):
            Circle(SKETCH23_R)
        with Locations(Location((92.5, 462.5, 0), (0, 0, 270))):
            Circle(SKETCH23_R_2)
        with Locations(Location((113.4, 462.5, 0), (0, 0, 270))):
            Circle(SKETCH23_R_2)
        with Locations(Location((92.5, 401.5, 0), (0, 0, 270))):
            Circle(SKETCH23_R_2)
        with Locations(Location((113.4, 401.5, 0), (0, 0, 270))):
            Circle(SKETCH23_R_2)
        with Locations(Location((67.5, 399.499999998, 0), (0, 0, 270))):
            Circle(SKETCH23_R)
        with Locations(Location((44.5, 399.499999998, 0), (0, 0, 270))):
            Circle(SKETCH23_R)
        with Locations(Location((33.5, 468.837822173, 0), (0, 0, 270))):
            Circle(SKETCH23_R)
        with Locations(Location((33.5, 435.837822173, 0), (0, 0, 270))):
            Circle(SKETCH23_R)
        with Locations(Location((44.5, 464.499999998, 0), (0, 0, 270))):
            Circle(SKETCH23_R)
    extrude(amount=-CUT_EXTRUDE3_DEPTH, mode=Mode.SUBTRACT)


solid = part.part
